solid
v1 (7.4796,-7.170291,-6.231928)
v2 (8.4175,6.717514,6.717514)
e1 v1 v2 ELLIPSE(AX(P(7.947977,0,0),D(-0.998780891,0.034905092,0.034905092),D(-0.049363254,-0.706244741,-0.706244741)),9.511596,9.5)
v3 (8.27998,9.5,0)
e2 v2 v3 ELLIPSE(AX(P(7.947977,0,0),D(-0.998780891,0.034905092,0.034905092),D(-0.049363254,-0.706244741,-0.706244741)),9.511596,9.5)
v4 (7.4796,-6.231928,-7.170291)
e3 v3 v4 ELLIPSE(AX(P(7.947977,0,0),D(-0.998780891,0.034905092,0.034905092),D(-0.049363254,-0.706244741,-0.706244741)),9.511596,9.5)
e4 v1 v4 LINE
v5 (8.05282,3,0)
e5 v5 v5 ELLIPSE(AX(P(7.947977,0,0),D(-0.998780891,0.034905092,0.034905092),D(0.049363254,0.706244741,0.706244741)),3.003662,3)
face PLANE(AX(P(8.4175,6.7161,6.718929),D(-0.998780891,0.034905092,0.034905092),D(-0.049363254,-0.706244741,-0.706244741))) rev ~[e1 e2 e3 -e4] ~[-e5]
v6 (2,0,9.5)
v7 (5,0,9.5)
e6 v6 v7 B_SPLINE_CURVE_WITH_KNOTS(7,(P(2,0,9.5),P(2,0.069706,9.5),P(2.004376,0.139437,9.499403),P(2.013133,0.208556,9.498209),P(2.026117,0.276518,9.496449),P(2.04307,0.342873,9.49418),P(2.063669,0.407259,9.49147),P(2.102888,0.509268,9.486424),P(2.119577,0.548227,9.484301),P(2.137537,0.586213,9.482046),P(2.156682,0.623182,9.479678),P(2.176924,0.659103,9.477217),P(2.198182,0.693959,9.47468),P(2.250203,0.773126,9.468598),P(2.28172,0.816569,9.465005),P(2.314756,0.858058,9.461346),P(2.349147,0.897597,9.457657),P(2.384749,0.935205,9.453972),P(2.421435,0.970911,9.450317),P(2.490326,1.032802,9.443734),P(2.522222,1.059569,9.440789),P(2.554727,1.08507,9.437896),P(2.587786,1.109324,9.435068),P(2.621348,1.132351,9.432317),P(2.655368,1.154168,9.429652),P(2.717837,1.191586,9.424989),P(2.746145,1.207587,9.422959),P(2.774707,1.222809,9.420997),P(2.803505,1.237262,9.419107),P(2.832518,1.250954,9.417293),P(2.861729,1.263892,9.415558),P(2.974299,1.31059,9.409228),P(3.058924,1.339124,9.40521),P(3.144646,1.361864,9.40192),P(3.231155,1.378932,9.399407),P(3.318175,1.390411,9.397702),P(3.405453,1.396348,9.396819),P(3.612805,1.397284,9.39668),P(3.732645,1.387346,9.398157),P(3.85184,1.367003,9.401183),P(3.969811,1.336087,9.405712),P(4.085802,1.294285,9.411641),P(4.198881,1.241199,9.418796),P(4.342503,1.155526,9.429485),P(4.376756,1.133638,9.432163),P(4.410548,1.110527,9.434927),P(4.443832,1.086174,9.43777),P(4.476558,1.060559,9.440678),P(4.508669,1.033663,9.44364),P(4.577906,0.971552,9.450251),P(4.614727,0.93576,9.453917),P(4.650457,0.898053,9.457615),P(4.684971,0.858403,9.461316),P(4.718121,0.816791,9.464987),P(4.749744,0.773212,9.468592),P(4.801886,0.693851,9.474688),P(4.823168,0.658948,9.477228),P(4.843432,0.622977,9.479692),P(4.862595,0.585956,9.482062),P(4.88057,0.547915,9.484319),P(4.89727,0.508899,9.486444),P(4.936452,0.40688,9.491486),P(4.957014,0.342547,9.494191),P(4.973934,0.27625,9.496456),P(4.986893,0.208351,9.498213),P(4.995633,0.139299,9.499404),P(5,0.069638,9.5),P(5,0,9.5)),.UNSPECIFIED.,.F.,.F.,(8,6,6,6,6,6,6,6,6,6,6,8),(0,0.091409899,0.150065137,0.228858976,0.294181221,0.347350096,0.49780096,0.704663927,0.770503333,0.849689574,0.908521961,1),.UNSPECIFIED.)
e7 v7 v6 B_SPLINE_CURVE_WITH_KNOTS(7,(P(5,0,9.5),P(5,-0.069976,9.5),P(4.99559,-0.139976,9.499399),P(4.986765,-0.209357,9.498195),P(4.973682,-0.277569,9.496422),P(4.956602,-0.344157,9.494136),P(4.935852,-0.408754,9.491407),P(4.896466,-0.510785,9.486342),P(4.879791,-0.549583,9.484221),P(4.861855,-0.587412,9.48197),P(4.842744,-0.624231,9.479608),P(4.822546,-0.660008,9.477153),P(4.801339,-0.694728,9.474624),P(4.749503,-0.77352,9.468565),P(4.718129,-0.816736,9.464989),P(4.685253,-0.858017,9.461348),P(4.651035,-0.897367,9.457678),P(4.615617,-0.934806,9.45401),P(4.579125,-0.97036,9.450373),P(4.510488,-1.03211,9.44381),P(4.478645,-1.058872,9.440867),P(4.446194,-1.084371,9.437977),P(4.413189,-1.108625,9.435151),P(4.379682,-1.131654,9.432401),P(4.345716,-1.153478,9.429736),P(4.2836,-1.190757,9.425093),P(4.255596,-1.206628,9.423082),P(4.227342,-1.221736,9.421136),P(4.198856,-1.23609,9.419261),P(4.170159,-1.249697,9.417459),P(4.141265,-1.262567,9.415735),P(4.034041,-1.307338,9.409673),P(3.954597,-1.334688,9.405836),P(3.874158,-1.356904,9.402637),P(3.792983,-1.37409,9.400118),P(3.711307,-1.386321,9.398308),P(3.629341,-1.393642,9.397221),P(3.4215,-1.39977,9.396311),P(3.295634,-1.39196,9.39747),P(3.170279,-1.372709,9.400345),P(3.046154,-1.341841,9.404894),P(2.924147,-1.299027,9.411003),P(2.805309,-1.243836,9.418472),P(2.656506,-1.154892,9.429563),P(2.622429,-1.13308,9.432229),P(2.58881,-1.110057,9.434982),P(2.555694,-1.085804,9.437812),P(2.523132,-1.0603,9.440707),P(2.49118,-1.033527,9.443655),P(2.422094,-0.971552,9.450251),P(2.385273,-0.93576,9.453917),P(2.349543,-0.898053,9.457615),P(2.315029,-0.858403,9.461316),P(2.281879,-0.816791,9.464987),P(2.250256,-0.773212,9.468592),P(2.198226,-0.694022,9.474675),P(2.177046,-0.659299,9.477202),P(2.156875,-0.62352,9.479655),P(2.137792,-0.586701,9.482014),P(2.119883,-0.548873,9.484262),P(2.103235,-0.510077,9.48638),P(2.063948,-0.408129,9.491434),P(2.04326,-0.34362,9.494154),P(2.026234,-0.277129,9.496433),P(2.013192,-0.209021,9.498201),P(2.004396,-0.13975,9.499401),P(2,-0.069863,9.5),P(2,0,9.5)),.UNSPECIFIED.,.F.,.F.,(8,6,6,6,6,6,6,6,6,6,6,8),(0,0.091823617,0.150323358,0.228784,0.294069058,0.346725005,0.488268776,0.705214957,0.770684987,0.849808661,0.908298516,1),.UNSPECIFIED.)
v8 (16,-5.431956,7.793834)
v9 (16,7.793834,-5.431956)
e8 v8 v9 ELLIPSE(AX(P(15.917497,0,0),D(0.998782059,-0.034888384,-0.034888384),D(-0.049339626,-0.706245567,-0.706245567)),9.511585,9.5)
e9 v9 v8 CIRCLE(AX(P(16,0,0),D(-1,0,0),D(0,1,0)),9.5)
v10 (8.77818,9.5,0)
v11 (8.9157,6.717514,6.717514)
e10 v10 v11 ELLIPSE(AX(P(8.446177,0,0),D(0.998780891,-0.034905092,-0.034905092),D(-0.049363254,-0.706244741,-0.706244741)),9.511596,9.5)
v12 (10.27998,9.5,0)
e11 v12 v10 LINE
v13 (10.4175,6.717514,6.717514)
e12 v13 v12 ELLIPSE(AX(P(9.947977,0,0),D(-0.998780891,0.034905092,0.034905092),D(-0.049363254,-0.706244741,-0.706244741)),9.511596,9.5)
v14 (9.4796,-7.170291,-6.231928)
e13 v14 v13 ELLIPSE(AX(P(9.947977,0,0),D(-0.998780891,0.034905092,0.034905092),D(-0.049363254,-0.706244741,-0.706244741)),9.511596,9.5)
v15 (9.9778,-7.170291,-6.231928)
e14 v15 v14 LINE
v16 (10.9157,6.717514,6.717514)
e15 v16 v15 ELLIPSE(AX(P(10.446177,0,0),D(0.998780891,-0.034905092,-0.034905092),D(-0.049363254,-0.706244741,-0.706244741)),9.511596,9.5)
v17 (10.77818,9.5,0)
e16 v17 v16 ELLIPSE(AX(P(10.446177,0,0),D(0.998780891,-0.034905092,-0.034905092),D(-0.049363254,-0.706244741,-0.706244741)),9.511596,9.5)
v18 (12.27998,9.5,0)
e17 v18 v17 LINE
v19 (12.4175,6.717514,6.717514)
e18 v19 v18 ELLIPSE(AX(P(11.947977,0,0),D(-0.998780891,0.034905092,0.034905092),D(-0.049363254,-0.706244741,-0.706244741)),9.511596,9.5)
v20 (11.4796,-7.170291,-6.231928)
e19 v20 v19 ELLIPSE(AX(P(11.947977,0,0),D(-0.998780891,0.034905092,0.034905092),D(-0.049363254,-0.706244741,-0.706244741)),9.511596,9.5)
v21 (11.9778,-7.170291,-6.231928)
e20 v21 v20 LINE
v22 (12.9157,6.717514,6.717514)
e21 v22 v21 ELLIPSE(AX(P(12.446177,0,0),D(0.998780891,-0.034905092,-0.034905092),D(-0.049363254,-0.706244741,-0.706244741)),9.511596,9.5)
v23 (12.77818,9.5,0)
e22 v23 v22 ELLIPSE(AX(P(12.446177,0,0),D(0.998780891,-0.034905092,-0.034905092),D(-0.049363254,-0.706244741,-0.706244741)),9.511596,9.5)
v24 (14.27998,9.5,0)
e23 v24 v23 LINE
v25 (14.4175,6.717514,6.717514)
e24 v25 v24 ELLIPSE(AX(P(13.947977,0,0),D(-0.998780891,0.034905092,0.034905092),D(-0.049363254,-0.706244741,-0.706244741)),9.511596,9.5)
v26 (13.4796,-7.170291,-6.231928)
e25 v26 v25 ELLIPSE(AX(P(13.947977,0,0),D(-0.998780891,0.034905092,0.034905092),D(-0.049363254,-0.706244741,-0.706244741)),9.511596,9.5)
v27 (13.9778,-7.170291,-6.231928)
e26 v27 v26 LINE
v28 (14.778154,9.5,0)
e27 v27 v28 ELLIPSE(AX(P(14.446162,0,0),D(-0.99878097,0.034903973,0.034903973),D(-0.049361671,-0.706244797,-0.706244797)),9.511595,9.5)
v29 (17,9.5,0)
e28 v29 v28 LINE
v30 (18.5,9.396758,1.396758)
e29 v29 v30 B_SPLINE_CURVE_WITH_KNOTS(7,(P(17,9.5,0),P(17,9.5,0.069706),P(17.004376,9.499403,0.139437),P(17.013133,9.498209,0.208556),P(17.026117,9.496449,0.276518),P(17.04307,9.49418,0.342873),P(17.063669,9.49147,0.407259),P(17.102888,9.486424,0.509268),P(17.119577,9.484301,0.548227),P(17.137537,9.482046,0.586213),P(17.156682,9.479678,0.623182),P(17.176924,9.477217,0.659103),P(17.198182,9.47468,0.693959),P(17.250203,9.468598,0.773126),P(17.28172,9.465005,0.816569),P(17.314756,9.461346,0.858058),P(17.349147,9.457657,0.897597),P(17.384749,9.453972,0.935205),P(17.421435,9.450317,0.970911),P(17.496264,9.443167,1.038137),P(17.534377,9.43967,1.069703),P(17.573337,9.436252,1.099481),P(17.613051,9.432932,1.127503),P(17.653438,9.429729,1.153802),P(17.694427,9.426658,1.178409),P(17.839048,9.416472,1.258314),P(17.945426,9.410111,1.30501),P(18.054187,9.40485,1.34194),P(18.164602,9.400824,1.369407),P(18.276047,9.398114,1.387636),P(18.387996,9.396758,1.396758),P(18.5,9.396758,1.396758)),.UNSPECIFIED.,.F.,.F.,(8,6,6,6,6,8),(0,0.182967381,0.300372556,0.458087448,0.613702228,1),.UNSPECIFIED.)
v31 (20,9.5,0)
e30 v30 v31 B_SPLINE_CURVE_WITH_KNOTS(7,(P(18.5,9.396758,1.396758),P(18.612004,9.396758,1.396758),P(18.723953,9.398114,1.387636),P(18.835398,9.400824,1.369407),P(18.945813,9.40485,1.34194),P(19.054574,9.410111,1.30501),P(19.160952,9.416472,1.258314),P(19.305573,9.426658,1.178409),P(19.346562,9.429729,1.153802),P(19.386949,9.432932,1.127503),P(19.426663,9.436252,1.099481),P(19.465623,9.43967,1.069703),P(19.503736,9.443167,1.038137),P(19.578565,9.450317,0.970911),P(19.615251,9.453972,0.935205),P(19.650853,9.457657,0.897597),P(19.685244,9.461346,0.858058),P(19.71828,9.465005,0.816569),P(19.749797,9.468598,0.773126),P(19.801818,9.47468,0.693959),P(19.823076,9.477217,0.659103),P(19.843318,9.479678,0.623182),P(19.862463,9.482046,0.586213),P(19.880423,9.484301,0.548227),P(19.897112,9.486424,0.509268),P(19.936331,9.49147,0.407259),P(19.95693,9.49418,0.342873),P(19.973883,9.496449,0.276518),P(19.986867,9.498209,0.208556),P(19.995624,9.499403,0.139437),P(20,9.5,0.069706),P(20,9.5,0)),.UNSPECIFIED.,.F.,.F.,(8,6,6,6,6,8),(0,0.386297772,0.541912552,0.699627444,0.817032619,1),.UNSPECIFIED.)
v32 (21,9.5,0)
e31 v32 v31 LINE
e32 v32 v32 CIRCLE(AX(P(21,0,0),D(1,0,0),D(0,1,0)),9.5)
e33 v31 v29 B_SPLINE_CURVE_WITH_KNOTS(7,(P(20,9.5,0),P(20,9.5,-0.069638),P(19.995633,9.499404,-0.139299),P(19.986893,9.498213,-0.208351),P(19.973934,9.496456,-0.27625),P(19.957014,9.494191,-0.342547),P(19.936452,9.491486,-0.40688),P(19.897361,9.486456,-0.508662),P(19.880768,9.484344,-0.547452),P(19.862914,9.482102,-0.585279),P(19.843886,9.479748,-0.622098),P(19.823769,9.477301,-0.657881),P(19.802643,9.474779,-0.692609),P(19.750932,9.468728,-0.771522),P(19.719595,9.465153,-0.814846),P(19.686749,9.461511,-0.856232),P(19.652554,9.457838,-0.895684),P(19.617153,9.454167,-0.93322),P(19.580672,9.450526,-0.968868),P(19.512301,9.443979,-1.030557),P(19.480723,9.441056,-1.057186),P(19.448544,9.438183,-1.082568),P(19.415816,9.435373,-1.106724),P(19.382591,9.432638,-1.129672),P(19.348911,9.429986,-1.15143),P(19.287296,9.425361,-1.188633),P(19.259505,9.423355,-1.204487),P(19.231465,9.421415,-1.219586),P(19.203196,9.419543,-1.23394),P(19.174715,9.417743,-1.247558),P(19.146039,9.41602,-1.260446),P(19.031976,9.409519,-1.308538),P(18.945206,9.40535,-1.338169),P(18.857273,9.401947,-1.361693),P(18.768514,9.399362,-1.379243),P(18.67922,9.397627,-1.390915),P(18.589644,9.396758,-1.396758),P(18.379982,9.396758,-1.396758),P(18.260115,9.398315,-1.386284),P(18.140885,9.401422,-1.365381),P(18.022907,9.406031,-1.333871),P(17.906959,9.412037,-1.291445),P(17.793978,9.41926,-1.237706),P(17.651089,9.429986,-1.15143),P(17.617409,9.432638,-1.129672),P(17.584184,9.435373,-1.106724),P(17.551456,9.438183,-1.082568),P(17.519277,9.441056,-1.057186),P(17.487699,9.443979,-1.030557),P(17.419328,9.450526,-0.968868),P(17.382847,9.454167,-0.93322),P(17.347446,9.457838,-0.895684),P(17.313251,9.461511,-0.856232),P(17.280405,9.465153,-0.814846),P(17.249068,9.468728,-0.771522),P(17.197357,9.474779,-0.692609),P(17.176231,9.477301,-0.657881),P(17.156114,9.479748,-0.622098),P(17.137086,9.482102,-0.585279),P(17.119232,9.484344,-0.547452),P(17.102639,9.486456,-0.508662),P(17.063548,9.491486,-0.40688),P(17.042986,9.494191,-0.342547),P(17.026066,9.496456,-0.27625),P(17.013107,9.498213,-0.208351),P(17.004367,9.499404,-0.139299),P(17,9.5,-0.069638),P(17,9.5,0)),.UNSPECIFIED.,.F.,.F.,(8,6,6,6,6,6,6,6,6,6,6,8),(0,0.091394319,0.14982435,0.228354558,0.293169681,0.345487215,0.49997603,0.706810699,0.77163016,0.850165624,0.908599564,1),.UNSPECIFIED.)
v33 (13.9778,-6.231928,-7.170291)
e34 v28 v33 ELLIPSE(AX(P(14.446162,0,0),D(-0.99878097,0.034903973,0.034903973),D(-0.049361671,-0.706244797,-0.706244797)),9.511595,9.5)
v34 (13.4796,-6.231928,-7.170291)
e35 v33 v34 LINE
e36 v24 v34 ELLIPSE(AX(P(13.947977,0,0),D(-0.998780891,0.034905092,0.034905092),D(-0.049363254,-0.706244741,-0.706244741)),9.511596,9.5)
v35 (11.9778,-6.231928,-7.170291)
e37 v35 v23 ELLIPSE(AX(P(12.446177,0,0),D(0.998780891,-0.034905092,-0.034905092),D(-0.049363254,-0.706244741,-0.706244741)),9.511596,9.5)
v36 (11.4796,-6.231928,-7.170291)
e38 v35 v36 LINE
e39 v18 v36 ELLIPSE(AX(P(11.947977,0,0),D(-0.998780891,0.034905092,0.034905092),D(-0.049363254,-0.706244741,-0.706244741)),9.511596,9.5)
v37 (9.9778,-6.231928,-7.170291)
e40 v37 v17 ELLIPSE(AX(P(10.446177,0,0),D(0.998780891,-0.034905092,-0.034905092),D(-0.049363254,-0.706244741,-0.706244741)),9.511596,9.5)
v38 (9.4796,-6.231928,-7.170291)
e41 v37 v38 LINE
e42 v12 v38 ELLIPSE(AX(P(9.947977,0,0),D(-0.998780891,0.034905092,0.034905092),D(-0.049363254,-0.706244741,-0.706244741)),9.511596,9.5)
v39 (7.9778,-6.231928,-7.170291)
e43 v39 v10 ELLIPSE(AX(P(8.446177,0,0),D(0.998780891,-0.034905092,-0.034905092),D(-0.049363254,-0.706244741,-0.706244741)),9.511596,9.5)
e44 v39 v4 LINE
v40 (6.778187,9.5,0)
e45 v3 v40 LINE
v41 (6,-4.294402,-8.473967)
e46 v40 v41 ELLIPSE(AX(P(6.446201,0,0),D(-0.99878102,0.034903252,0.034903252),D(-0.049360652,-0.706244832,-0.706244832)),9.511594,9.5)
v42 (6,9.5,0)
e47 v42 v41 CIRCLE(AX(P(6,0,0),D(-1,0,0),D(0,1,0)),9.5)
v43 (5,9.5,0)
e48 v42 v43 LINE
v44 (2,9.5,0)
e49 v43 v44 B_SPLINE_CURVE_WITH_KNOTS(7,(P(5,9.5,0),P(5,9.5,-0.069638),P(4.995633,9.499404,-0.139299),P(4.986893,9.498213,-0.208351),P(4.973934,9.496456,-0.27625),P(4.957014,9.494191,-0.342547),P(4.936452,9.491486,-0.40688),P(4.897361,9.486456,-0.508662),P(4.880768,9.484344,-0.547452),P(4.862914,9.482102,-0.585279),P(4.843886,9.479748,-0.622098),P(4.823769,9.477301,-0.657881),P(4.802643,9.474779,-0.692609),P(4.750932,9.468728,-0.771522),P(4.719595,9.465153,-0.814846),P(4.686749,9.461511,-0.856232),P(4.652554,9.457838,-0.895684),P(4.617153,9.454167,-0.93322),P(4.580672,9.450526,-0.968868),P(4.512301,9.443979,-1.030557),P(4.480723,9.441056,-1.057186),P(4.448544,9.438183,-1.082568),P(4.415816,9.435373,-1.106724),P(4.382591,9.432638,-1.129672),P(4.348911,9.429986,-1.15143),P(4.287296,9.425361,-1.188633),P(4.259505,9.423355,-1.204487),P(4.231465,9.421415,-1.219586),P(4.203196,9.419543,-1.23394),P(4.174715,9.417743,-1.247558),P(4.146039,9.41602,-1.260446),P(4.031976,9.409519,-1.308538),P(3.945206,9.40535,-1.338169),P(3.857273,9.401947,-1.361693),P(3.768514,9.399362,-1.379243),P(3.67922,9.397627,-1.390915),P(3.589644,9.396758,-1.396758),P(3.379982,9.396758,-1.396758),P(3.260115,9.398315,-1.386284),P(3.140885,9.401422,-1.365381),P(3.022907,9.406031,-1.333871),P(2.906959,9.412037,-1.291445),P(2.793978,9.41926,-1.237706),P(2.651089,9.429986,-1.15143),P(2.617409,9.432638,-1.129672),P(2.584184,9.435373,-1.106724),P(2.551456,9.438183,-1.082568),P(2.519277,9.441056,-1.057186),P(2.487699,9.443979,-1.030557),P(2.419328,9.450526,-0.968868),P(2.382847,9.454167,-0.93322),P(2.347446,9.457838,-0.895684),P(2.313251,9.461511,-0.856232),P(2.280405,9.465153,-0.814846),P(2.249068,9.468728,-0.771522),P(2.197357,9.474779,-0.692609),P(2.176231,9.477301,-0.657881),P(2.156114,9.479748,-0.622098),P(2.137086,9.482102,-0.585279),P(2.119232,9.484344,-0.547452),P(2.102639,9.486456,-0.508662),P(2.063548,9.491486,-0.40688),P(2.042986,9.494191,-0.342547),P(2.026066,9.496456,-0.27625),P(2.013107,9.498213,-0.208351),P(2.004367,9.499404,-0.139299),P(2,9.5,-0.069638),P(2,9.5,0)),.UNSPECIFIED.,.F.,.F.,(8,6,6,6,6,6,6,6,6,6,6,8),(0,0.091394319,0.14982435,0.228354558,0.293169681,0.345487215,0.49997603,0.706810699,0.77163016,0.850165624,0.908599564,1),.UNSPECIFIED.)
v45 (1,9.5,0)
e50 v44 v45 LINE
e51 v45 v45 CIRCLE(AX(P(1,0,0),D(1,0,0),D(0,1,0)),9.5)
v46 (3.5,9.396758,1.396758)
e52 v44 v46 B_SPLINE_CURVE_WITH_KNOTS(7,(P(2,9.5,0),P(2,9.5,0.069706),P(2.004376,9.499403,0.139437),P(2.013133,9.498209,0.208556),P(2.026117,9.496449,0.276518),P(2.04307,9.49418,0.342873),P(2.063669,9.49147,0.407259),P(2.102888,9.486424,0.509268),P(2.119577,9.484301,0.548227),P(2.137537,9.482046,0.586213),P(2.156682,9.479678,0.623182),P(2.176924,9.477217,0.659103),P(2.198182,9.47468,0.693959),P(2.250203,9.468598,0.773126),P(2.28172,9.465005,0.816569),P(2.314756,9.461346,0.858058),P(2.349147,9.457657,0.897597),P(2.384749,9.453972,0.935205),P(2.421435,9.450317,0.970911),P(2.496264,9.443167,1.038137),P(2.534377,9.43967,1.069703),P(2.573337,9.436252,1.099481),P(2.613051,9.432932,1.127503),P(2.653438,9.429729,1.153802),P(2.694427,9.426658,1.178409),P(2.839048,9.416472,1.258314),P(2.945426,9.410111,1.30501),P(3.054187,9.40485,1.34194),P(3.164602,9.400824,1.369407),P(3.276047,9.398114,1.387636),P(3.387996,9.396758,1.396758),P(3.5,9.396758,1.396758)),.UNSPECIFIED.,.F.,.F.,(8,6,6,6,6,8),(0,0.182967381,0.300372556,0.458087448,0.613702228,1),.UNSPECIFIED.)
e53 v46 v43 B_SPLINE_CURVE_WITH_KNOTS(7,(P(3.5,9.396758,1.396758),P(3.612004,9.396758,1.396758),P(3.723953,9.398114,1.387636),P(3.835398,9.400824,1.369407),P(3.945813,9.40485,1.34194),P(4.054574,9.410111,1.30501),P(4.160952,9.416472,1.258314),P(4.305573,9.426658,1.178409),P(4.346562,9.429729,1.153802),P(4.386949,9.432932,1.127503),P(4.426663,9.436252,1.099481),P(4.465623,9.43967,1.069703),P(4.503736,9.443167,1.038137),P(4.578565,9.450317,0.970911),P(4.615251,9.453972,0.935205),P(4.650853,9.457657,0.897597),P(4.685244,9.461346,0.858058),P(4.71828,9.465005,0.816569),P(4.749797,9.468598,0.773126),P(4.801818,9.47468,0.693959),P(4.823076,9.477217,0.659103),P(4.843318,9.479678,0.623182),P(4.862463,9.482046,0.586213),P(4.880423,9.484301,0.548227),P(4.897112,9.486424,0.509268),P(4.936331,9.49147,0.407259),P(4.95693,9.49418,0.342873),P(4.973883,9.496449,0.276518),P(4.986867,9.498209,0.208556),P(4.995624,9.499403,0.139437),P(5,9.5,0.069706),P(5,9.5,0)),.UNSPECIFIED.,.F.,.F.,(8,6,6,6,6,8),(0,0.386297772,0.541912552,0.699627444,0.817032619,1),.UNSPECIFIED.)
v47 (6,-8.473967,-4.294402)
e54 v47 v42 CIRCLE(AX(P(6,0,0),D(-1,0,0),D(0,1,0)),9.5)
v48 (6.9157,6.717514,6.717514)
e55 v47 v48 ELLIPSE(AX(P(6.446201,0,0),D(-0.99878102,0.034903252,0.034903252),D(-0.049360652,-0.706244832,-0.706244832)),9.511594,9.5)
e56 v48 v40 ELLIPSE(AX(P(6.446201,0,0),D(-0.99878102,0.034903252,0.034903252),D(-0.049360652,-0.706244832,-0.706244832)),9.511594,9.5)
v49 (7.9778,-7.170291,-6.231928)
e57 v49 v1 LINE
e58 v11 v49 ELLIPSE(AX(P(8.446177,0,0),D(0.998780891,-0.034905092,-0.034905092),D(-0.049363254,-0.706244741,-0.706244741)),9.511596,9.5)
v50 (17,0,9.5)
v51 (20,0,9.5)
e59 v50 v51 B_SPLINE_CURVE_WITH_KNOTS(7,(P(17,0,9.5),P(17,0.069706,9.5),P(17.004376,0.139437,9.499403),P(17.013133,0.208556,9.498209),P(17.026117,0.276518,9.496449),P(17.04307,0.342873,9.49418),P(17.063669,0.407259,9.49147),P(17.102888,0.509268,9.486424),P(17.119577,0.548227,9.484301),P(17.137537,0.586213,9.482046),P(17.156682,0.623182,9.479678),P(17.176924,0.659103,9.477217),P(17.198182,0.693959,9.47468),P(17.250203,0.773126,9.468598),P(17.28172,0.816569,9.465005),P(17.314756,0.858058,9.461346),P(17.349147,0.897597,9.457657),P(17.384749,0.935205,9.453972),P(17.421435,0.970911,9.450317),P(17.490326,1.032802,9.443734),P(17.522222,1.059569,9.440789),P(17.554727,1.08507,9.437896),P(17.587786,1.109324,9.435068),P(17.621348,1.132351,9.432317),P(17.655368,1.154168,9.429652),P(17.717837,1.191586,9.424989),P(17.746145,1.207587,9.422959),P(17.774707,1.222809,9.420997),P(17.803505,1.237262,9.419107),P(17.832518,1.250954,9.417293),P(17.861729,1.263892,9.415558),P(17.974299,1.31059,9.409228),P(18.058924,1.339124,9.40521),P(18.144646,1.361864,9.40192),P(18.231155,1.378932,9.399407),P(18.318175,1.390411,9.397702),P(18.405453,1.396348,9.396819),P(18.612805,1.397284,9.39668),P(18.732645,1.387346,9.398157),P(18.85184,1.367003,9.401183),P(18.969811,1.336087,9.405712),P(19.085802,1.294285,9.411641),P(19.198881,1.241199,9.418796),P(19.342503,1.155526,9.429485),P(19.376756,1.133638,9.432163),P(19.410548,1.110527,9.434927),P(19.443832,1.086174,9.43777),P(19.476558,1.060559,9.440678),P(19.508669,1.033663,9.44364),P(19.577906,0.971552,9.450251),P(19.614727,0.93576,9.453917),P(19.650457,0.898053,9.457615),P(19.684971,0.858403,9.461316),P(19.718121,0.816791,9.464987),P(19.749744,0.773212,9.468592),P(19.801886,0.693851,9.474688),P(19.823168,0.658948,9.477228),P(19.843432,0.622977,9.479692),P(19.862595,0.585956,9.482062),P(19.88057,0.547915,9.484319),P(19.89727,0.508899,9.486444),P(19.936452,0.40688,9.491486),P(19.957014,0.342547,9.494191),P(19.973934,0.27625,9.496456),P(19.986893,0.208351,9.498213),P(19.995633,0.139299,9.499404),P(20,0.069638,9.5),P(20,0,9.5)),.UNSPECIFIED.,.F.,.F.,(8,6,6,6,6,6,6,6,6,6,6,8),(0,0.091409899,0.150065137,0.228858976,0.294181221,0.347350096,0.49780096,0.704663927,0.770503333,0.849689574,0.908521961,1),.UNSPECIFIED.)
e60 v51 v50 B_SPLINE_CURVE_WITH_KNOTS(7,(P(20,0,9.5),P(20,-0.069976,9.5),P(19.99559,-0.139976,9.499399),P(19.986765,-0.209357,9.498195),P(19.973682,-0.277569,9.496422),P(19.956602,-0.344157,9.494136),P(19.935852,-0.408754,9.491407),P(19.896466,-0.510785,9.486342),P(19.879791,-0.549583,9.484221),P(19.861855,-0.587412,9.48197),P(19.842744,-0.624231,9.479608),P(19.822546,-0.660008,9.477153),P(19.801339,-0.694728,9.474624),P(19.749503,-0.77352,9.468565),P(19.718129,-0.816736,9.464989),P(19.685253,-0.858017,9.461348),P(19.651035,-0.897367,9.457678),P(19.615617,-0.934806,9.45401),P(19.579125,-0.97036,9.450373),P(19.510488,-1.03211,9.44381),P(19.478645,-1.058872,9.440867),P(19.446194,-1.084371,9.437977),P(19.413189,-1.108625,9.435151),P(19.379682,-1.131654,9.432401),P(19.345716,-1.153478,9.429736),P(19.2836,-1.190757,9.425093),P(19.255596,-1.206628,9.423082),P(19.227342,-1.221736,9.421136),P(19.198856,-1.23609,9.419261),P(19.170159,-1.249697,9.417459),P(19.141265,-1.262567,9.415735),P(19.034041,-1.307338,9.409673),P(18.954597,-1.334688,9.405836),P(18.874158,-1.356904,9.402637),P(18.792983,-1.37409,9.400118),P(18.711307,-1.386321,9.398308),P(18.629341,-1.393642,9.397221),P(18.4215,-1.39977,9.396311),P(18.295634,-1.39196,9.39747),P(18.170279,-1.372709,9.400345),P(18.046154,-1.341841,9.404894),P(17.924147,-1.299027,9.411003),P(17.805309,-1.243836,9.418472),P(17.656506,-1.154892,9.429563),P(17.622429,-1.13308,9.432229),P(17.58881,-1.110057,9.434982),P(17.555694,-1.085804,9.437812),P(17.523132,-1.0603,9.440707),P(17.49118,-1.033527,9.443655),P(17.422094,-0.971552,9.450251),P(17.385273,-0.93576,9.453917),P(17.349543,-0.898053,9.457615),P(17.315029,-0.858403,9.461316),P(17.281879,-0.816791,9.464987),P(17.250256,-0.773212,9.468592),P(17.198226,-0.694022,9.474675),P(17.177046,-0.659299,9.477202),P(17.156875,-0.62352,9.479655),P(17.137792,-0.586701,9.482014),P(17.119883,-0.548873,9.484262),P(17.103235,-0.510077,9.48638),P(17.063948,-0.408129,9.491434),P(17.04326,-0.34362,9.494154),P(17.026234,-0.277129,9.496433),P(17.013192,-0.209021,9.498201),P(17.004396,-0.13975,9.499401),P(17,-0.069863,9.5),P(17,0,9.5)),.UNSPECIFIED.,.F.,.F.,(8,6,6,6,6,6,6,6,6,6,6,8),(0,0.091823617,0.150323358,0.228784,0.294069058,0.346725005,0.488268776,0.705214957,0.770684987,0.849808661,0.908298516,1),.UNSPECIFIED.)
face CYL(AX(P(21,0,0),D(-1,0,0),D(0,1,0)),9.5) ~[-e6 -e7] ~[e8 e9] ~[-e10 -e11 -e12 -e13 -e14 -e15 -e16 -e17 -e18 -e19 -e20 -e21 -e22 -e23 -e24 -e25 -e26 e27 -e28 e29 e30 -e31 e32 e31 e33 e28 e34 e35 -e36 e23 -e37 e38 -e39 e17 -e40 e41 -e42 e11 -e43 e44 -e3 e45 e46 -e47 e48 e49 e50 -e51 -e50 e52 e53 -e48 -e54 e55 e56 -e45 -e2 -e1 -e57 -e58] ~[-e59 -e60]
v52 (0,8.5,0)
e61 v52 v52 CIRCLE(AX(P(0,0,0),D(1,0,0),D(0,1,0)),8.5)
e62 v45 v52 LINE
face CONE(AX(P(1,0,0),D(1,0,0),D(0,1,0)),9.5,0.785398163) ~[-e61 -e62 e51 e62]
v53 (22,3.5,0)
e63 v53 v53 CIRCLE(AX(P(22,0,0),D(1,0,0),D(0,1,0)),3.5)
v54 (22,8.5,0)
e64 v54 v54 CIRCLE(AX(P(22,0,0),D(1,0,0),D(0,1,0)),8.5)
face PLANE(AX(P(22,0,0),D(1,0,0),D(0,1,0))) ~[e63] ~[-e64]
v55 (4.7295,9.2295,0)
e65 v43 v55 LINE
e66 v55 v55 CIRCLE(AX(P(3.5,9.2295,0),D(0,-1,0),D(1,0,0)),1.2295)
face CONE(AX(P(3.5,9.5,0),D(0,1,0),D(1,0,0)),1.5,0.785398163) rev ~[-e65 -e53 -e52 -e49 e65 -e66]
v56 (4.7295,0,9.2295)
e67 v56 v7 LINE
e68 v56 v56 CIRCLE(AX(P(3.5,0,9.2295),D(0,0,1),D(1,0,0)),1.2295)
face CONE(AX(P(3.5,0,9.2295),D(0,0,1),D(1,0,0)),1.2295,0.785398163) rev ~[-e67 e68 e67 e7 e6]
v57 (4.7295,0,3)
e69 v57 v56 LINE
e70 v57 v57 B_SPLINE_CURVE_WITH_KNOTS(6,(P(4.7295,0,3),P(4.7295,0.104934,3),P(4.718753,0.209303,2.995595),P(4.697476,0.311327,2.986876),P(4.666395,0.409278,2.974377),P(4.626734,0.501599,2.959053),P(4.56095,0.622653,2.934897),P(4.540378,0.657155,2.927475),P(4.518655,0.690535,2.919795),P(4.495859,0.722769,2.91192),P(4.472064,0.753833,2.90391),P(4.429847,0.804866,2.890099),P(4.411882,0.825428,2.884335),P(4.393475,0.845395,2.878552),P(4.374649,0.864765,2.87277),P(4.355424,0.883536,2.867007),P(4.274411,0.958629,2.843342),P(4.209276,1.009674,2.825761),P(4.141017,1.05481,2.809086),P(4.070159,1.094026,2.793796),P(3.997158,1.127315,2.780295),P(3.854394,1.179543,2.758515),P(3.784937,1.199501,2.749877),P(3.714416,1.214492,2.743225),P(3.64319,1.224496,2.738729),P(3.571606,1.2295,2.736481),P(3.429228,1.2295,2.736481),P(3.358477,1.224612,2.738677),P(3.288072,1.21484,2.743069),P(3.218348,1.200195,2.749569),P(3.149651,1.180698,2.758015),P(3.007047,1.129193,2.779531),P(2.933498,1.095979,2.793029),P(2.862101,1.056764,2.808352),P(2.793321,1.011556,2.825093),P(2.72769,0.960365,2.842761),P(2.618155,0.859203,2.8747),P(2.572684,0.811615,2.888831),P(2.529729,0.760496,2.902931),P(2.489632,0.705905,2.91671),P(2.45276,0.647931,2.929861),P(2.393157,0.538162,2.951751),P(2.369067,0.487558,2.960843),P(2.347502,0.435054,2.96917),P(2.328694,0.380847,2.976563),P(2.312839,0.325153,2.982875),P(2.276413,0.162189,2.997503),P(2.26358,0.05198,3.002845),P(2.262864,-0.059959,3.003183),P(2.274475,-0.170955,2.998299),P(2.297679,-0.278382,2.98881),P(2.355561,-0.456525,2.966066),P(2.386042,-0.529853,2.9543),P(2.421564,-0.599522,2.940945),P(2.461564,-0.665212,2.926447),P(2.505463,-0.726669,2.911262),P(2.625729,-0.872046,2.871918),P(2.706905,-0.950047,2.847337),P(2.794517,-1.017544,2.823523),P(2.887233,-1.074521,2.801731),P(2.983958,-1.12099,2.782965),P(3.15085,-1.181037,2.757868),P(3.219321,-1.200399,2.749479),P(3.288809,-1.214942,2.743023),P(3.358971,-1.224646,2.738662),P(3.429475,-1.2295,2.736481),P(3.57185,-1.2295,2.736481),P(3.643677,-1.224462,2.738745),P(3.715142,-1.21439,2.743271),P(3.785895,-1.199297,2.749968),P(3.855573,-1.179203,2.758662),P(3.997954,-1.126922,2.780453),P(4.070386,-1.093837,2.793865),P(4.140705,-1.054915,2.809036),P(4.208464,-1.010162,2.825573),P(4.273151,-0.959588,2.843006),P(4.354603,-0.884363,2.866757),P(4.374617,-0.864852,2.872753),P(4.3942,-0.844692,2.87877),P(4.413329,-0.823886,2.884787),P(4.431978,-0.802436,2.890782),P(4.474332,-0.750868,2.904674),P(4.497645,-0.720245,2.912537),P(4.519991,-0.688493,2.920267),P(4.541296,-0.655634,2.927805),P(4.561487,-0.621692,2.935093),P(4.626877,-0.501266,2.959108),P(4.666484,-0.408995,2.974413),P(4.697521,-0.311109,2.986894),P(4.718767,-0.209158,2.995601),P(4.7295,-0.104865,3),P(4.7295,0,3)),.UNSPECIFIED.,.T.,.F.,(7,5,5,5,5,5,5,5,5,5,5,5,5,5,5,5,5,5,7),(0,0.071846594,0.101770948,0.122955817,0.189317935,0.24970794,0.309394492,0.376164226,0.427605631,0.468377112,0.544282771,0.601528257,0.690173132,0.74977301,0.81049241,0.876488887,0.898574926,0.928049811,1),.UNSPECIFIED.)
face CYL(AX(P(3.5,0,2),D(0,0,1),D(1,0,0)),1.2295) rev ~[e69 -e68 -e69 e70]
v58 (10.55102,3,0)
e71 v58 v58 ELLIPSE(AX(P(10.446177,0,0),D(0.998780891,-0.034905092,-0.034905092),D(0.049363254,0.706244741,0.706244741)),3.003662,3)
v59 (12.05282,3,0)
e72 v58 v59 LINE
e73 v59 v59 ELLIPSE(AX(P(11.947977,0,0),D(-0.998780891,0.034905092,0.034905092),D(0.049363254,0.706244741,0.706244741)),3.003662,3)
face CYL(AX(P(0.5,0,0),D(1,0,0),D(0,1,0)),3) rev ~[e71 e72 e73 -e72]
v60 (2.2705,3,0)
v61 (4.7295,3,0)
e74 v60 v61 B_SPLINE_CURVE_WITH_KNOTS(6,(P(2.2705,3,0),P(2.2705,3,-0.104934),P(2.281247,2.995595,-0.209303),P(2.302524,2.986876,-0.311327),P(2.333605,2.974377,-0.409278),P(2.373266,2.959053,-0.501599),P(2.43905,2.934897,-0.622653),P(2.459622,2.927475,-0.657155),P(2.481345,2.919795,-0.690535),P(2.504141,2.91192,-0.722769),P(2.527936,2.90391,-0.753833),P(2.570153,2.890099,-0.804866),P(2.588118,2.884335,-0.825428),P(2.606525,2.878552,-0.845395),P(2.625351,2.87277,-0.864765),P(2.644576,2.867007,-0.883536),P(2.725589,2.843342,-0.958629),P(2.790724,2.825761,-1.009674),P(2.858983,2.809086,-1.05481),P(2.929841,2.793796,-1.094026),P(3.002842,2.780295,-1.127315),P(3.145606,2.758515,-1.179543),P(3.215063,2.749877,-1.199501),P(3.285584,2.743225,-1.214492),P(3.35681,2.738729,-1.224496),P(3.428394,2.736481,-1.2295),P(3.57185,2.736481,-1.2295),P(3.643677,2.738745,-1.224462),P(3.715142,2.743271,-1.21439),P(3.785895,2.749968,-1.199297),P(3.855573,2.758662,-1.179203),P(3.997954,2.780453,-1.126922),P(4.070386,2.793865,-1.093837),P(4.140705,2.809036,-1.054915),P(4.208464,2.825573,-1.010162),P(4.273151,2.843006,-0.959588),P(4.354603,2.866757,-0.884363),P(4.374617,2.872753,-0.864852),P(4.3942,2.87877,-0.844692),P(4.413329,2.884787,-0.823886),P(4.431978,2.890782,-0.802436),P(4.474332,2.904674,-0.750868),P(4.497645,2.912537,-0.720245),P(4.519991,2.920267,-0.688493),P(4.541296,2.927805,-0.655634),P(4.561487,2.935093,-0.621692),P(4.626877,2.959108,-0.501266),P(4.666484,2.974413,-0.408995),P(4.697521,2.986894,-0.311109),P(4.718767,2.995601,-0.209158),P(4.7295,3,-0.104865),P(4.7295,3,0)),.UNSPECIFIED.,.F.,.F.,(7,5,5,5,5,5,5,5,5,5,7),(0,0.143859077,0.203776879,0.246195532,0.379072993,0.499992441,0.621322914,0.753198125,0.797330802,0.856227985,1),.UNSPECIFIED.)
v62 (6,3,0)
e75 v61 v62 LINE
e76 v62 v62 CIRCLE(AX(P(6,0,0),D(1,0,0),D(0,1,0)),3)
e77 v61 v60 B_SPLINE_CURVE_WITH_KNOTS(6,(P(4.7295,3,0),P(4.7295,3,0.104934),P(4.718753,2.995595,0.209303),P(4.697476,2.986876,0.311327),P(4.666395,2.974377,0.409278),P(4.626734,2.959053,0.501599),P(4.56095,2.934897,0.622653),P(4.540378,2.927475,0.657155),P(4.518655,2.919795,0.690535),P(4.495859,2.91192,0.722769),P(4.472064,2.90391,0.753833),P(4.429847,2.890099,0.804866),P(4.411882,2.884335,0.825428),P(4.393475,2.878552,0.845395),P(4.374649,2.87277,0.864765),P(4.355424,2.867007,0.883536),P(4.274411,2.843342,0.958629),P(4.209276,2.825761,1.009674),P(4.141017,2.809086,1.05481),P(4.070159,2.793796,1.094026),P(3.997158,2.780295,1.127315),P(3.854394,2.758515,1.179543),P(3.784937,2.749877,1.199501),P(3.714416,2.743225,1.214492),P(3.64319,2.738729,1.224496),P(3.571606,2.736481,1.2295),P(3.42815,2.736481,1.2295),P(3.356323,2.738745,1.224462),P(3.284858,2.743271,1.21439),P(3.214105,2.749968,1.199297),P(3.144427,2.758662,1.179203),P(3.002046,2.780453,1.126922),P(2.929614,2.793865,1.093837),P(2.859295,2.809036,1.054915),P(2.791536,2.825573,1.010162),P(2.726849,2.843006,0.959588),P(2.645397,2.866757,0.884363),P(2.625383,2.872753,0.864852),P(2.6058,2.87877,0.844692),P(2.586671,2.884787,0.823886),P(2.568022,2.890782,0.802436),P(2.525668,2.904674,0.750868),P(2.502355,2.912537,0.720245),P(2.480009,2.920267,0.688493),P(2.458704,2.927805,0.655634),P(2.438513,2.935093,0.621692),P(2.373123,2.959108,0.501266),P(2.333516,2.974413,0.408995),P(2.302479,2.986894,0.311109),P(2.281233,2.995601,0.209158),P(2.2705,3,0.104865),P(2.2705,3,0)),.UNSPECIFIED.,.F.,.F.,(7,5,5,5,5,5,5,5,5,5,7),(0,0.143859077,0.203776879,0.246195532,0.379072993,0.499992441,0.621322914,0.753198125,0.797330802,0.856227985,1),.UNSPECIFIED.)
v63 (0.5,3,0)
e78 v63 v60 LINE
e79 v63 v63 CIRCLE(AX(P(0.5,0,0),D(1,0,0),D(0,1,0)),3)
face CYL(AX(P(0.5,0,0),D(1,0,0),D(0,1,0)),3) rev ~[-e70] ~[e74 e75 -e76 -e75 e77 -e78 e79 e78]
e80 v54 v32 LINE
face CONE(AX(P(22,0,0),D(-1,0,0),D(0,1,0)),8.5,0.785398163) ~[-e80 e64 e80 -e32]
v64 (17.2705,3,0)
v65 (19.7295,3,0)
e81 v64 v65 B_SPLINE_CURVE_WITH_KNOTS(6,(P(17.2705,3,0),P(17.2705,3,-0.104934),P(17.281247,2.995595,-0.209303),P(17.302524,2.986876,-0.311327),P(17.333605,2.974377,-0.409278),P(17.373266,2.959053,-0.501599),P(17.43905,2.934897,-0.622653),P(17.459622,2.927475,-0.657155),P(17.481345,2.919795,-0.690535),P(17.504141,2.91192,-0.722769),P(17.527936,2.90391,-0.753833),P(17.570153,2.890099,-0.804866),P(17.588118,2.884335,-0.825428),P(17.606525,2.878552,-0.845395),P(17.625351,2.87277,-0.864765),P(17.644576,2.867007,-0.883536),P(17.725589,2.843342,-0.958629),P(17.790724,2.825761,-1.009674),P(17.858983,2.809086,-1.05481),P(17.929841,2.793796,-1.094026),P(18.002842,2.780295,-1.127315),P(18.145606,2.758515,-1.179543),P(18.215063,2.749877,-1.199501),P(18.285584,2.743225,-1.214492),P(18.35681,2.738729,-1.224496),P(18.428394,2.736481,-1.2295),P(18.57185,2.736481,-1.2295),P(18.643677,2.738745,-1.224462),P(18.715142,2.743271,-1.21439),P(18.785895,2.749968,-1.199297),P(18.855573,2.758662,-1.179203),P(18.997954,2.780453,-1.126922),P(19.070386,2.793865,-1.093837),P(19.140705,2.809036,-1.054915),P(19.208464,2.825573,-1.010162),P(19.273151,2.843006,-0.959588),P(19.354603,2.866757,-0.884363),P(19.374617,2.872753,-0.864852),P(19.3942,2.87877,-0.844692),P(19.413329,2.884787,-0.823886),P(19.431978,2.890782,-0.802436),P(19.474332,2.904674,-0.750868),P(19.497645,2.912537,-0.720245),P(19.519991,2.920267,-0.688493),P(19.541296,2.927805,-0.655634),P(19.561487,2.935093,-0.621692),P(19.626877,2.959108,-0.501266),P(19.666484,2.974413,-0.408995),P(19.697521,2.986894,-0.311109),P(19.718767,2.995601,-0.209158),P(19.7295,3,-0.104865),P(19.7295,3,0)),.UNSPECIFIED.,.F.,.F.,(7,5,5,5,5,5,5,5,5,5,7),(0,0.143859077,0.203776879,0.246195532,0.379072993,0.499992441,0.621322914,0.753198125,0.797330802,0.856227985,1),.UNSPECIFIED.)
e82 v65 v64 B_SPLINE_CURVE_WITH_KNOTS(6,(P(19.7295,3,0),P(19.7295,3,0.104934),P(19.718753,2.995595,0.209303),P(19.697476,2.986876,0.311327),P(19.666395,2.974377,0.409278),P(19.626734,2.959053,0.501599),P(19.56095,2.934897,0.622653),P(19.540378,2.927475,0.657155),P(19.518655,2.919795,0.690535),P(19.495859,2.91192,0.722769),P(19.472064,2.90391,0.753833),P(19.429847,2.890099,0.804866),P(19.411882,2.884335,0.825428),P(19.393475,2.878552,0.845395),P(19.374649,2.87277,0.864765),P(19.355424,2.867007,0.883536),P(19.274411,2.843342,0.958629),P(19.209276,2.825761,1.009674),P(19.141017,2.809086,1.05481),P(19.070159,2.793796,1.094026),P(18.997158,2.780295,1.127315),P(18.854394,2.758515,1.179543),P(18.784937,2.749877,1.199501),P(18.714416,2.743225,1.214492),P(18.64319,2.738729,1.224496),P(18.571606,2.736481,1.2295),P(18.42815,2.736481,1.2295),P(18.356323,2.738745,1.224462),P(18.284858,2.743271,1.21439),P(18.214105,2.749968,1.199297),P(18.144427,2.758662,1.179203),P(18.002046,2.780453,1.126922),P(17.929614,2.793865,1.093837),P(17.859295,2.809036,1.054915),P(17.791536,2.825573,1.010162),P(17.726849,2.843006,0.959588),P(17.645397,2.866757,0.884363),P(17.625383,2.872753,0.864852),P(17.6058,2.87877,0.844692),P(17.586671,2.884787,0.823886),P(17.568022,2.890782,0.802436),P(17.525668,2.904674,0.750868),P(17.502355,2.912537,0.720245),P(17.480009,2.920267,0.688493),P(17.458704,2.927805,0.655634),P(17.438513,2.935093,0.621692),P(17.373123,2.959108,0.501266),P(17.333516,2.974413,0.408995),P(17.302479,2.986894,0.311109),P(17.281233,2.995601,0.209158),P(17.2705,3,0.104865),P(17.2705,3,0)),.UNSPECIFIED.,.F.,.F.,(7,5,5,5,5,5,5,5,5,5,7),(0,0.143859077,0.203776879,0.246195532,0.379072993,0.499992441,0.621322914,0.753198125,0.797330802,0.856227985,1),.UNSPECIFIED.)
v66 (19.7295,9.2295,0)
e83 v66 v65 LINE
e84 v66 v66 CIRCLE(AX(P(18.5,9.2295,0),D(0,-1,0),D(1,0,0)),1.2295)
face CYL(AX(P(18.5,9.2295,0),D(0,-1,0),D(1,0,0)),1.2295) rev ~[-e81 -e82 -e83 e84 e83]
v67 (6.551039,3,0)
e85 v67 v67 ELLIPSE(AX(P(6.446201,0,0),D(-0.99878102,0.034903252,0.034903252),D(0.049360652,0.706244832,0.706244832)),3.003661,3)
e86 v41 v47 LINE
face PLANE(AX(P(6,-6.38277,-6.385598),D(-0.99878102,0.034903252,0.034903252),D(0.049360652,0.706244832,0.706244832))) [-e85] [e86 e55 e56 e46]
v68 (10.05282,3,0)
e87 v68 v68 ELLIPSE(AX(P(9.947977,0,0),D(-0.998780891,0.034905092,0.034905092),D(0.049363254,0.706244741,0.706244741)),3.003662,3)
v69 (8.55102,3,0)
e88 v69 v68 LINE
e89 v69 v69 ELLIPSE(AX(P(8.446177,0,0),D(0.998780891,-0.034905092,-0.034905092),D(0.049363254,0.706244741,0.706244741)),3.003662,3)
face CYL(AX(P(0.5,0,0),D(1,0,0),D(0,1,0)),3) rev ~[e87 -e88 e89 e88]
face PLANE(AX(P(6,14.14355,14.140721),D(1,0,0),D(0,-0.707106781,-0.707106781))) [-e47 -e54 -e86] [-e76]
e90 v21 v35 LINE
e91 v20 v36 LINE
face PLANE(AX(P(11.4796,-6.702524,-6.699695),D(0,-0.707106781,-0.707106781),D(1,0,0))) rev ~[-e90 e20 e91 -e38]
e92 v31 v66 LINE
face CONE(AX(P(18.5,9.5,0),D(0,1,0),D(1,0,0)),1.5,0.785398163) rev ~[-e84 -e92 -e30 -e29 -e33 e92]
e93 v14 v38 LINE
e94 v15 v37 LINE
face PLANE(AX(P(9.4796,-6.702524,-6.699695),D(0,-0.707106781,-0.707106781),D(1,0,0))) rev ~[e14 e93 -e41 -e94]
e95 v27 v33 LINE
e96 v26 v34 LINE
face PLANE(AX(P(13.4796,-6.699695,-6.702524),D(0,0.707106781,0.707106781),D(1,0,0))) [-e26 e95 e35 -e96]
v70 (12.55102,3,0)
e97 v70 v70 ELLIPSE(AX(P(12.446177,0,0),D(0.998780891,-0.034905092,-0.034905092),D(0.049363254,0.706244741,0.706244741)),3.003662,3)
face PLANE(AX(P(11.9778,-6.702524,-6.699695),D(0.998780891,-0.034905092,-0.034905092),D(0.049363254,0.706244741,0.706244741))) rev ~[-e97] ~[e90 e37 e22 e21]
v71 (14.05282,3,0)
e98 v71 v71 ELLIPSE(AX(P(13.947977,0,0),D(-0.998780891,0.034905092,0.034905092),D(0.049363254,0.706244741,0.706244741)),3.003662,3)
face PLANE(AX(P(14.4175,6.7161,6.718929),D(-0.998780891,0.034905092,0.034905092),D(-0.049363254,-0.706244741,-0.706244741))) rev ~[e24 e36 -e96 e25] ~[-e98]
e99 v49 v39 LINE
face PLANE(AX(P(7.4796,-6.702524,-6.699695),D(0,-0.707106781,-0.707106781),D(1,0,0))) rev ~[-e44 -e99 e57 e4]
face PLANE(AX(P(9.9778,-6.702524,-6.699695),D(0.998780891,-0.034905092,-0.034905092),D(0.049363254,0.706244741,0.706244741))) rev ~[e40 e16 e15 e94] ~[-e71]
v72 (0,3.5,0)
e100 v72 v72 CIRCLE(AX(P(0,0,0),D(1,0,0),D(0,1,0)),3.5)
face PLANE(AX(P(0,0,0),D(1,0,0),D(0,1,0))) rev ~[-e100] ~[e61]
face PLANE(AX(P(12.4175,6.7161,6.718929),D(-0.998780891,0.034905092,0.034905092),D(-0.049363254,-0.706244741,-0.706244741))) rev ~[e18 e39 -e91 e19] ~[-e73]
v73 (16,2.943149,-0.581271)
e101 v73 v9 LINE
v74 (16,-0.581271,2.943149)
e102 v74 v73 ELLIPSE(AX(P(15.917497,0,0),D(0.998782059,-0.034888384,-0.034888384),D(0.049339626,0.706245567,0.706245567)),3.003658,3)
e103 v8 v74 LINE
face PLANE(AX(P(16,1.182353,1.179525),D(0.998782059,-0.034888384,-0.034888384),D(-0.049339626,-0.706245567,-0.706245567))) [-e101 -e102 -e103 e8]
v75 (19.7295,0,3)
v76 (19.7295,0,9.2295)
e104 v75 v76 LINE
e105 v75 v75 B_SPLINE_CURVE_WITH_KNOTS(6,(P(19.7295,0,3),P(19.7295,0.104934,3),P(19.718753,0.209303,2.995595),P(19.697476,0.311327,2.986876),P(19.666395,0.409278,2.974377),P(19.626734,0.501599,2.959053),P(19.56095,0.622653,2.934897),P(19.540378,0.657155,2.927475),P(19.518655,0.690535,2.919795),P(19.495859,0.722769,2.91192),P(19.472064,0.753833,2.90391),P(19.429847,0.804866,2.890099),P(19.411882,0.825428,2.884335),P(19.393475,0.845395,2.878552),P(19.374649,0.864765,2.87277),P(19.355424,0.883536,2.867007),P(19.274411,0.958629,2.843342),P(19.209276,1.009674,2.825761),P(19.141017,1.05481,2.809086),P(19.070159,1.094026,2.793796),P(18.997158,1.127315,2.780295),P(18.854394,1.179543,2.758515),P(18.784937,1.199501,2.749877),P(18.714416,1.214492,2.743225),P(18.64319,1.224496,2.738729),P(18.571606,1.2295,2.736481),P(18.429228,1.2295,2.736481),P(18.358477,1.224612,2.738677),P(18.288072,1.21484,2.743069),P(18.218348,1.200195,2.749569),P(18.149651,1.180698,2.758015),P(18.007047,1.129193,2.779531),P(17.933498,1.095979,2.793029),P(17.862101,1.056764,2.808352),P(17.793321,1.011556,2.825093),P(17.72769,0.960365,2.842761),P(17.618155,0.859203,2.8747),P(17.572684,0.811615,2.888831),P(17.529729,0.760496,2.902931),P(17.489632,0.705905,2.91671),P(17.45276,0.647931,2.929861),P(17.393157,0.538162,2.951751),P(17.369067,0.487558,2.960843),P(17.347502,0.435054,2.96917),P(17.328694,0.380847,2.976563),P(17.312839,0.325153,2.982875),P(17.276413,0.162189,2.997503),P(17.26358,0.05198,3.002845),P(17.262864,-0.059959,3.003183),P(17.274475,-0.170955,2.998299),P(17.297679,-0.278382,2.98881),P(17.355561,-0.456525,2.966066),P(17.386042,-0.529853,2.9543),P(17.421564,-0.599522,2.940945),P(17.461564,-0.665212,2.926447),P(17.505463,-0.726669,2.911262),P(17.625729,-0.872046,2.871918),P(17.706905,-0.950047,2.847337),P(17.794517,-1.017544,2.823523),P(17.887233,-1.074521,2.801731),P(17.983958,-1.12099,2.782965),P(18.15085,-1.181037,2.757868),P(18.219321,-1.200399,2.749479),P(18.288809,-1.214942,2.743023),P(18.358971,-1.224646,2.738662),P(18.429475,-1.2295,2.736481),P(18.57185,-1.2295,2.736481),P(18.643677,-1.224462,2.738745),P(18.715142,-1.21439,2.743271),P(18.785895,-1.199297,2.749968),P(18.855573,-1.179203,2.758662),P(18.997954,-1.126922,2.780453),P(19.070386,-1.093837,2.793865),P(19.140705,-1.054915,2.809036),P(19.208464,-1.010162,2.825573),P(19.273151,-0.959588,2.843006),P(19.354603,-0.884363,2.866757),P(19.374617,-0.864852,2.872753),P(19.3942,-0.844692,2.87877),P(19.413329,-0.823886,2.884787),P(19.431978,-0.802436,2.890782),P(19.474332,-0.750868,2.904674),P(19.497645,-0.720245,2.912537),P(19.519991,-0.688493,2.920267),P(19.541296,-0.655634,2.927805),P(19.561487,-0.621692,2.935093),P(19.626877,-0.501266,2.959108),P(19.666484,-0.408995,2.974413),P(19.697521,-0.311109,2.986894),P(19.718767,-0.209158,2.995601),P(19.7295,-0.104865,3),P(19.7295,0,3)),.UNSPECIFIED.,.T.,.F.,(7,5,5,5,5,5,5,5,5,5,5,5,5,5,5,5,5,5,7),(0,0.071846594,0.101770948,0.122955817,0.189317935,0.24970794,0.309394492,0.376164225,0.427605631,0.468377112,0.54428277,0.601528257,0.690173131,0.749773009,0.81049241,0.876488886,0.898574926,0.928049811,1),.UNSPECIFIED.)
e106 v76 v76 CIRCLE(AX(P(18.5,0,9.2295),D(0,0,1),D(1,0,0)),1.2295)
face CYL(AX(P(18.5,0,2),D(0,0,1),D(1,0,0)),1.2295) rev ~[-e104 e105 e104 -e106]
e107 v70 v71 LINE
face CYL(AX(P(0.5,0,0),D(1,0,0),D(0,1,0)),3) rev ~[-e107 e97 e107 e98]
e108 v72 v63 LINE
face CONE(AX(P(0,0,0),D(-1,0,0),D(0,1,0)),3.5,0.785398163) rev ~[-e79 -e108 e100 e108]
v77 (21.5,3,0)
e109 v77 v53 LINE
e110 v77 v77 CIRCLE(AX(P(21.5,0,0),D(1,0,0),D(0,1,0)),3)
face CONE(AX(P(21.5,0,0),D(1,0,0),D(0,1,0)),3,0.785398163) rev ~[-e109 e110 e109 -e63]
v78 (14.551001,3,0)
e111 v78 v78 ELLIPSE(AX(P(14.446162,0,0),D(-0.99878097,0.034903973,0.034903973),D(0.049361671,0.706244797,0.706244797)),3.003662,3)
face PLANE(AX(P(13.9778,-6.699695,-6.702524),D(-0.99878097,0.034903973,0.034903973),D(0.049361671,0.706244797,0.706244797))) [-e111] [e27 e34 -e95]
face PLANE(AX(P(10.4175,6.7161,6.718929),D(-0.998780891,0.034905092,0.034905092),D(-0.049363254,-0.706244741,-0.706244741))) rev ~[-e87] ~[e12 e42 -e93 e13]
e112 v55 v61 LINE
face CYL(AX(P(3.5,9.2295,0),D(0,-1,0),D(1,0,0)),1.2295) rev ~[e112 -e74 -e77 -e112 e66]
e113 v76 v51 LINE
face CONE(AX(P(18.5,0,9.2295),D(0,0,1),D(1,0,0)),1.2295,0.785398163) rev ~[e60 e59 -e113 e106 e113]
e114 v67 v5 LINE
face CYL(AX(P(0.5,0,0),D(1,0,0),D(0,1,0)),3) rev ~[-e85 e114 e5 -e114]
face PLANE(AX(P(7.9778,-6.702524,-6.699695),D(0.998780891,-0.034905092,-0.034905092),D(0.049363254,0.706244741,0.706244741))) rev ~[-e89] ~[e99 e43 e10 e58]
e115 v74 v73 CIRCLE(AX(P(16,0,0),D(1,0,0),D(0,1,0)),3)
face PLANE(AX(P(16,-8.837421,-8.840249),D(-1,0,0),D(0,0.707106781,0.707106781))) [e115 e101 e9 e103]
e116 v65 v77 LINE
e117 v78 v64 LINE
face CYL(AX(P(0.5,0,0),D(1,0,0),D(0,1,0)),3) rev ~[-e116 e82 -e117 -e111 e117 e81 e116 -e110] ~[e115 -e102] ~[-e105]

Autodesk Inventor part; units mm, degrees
ref_plane "YZ Plane" through (0, 0, 0) normal (1, 0, 0) x (0, 1, 0)
ref_plane "XZ Plane" through (0, 0, 0) normal (0, 1, 0) x (-1, 0, 0)
ref_plane "XY Plane" through (0, 0, 0) normal (0, 0, 1) x (1, 0, 0)
sketch "Sketch_1" plane through (0, 0, 0) normal (0, 0, 1) x (1, 0, 0)
  line L0 (22, 0) -> (0, 0)
  line L1 (0, 3.5) -> (0.5, 3)
  line L2 (0.5, 3) -> (21.5, 3)
  line L3 (21.5, 3) -> (22, 3.5)
  line L4 (22, 3.5) -> (22, 8.5)
  line L5 (22, 8.5) -> (21, 9.5)
  line L6 (21, 9.5) -> (1, 9.5)
  line L7 (1, 9.5) -> (0, 8.5)
  line L8 (0, 8.5) -> (0, 3.5)
revolve "Revolution1" add sketch "Sketch_1" angle 360 about axis through (22, 0, 0) along (1, 0, 0)
sketch "Sketch_2" plane through (0, 0, 0) normal (0, -0.7071, 0.7071) x (1, 0, 0)
  line L0 (6, 20) -> (6, -9.0286)
  line L1 (6, -9.0286) -> (6.9157, 9.5)
  line L2 (6.9157, 9.5) -> (8.4175, 9.5)
  line L3 (8.4175, 9.5) -> (7.4796, -9.4768)
  line L4 (7.4796, -9.4768) -> (7.9778, -9.4768)
  line L5 (7.9778, -9.4768) -> (8.9157, 9.5)
  line L6 (8.9157, 9.5) -> (10.4175, 9.5)
  line L7 (10.4175, 9.5) -> (9.4796, -9.4768)
  line L8 (9.4796, -9.4768) -> (9.9778, -9.4768)
  line L9 (9.9778, -9.4768) -> (10.9157, 9.5)
  line L10 (10.9157, 9.5) -> (12.4175, 9.5)
  line L11 (12.4175, 9.5) -> (11.4796, -9.4768)
  line L12 (11.4796, -9.4768) -> (11.9778, -9.4768)
  line L13 (11.9778, -9.4768) -> (12.9157, 9.5)
  line L14 (12.9157, 9.5) -> (14.4175, 9.5)
  line L15 (14.4175, 9.5) -> (13.4796, -9.4768)
  line L16 (13.4796, -9.4768) -> (13.9778, -9.4768)
  line L17 (13.9778, -9.4768) -> (15.4346, 20)
  line L18 (15.4346, 20) -> (6, 20)
extrude "Extrusion1" cut sketch "Sketch_2" along normal mid plane 40
sketch "Sketch_3" plane through (0, 0, 0) normal (0, -0.7071, 0.7071) x (1, 0, 0)
  line L0 (15.3, -12.5) -> (16, -12.5)
  line L1 (16, -12.5) -> (16, 1.6701)
  line L2 (16, 1.6701) -> (15.3, -12.5)
extrude "Extrusion2" cut sketch "Sketch_3" along normal mid plane 40
sketch "Sketch_4" plane through (0, 0, 0) normal (0, 0, 1) x (1, 0, 0)
  line L0 (3.5, 2) -> (3.5, 9.5)
  line L1 (3.5, 9.5) -> (5, 9.5)
  line L2 (5, 9.5) -> (4.7295, 9.2295)
  line L3 (4.7295, 9.2295) -> (4.7295, 2)
  line L4 (4.7295, 2) -> (3.5, 2)
  line L5 (3.5, 2) -> (3.5, 9.5)
revolve "Revolution2" cut sketch "Sketch_4" angle 360 about axis through (3.5, 2, 0) along (0, -1, 0)
thread "Thread1" size "M3x0.5" class "6H" standard "ISO Metric profile" length 7.2295
sketch "Sketch_5" plane through (0, 0, 0) normal (0, 0, 1) x (1, 0, 0)
  line L0 (18.5, 2) -> (18.5, 9.5)
  line L1 (18.5, 9.5) -> (20, 9.5)
  line L2 (20, 9.5) -> (19.7295, 9.2295)
  line L3 (19.7295, 9.2295) -> (19.7295, 2)
  line L4 (19.7295, 2) -> (18.5, 2)
  line L5 (18.5, 2) -> (18.5, 9.5)
revolve "Revolution3" cut sketch "Sketch_5" angle 360 about axis through (18.5, 2, 0) along (0, -1, 0)
thread "Thread2" size "M3x0.5" class "6H" standard "ISO Metric profile" length 7.2295
sketch "Sketch_6" plane through (0, 0, 0) normal (0, 1, 0) x (-1, 0, 0)
  line L0 (-3.5, 9.5) -> (-3.5, 2)
  line L1 (-3.5, 2) -> (-4.7295, 2)
  line L2 (-4.7295, 2) -> (-4.7295, 9.2295)
  line L3 (-4.7295, 9.2295) -> (-5, 9.5)
  line L4 (-5, 9.5) -> (-3.5, 9.5)
  line L5 (-3.5, 9.5) -> (-3.5, 2)
revolve "Revolution4" cut sketch "Sketch_6" angle 360 about axis through (3.5, 0, 9.5) along (0, 0, 1)
thread "Thread3" size "M3x0.5" class "6H" standard "ISO Metric profile" length 7.2295
sketch "Sketch_7" plane through (0, 0, 0) normal (0, 1, 0) x (-1, 0, 0)
  line L0 (-18.5, 9.5) -> (-18.5, 2)
  line L1 (-18.5, 2) -> (-19.7295, 2)
  line L2 (-19.7295, 2) -> (-19.7295, 9.2295)
  line L3 (-19.7295, 9.2295) -> (-20, 9.5)
  line L4 (-20, 9.5) -> (-18.5, 9.5)
  line L5 (-18.5, 9.5) -> (-18.5, 2)
revolve "Revolution5" cut sketch "Sketch_7" angle 360 about axis through (18.5, 0, 9.5) along (0, 0, 1)
thread "Thread4" size "M3x0.5" class "6H" standard "ISO Metric profile" length 7.2295
properties part number "E60063"
